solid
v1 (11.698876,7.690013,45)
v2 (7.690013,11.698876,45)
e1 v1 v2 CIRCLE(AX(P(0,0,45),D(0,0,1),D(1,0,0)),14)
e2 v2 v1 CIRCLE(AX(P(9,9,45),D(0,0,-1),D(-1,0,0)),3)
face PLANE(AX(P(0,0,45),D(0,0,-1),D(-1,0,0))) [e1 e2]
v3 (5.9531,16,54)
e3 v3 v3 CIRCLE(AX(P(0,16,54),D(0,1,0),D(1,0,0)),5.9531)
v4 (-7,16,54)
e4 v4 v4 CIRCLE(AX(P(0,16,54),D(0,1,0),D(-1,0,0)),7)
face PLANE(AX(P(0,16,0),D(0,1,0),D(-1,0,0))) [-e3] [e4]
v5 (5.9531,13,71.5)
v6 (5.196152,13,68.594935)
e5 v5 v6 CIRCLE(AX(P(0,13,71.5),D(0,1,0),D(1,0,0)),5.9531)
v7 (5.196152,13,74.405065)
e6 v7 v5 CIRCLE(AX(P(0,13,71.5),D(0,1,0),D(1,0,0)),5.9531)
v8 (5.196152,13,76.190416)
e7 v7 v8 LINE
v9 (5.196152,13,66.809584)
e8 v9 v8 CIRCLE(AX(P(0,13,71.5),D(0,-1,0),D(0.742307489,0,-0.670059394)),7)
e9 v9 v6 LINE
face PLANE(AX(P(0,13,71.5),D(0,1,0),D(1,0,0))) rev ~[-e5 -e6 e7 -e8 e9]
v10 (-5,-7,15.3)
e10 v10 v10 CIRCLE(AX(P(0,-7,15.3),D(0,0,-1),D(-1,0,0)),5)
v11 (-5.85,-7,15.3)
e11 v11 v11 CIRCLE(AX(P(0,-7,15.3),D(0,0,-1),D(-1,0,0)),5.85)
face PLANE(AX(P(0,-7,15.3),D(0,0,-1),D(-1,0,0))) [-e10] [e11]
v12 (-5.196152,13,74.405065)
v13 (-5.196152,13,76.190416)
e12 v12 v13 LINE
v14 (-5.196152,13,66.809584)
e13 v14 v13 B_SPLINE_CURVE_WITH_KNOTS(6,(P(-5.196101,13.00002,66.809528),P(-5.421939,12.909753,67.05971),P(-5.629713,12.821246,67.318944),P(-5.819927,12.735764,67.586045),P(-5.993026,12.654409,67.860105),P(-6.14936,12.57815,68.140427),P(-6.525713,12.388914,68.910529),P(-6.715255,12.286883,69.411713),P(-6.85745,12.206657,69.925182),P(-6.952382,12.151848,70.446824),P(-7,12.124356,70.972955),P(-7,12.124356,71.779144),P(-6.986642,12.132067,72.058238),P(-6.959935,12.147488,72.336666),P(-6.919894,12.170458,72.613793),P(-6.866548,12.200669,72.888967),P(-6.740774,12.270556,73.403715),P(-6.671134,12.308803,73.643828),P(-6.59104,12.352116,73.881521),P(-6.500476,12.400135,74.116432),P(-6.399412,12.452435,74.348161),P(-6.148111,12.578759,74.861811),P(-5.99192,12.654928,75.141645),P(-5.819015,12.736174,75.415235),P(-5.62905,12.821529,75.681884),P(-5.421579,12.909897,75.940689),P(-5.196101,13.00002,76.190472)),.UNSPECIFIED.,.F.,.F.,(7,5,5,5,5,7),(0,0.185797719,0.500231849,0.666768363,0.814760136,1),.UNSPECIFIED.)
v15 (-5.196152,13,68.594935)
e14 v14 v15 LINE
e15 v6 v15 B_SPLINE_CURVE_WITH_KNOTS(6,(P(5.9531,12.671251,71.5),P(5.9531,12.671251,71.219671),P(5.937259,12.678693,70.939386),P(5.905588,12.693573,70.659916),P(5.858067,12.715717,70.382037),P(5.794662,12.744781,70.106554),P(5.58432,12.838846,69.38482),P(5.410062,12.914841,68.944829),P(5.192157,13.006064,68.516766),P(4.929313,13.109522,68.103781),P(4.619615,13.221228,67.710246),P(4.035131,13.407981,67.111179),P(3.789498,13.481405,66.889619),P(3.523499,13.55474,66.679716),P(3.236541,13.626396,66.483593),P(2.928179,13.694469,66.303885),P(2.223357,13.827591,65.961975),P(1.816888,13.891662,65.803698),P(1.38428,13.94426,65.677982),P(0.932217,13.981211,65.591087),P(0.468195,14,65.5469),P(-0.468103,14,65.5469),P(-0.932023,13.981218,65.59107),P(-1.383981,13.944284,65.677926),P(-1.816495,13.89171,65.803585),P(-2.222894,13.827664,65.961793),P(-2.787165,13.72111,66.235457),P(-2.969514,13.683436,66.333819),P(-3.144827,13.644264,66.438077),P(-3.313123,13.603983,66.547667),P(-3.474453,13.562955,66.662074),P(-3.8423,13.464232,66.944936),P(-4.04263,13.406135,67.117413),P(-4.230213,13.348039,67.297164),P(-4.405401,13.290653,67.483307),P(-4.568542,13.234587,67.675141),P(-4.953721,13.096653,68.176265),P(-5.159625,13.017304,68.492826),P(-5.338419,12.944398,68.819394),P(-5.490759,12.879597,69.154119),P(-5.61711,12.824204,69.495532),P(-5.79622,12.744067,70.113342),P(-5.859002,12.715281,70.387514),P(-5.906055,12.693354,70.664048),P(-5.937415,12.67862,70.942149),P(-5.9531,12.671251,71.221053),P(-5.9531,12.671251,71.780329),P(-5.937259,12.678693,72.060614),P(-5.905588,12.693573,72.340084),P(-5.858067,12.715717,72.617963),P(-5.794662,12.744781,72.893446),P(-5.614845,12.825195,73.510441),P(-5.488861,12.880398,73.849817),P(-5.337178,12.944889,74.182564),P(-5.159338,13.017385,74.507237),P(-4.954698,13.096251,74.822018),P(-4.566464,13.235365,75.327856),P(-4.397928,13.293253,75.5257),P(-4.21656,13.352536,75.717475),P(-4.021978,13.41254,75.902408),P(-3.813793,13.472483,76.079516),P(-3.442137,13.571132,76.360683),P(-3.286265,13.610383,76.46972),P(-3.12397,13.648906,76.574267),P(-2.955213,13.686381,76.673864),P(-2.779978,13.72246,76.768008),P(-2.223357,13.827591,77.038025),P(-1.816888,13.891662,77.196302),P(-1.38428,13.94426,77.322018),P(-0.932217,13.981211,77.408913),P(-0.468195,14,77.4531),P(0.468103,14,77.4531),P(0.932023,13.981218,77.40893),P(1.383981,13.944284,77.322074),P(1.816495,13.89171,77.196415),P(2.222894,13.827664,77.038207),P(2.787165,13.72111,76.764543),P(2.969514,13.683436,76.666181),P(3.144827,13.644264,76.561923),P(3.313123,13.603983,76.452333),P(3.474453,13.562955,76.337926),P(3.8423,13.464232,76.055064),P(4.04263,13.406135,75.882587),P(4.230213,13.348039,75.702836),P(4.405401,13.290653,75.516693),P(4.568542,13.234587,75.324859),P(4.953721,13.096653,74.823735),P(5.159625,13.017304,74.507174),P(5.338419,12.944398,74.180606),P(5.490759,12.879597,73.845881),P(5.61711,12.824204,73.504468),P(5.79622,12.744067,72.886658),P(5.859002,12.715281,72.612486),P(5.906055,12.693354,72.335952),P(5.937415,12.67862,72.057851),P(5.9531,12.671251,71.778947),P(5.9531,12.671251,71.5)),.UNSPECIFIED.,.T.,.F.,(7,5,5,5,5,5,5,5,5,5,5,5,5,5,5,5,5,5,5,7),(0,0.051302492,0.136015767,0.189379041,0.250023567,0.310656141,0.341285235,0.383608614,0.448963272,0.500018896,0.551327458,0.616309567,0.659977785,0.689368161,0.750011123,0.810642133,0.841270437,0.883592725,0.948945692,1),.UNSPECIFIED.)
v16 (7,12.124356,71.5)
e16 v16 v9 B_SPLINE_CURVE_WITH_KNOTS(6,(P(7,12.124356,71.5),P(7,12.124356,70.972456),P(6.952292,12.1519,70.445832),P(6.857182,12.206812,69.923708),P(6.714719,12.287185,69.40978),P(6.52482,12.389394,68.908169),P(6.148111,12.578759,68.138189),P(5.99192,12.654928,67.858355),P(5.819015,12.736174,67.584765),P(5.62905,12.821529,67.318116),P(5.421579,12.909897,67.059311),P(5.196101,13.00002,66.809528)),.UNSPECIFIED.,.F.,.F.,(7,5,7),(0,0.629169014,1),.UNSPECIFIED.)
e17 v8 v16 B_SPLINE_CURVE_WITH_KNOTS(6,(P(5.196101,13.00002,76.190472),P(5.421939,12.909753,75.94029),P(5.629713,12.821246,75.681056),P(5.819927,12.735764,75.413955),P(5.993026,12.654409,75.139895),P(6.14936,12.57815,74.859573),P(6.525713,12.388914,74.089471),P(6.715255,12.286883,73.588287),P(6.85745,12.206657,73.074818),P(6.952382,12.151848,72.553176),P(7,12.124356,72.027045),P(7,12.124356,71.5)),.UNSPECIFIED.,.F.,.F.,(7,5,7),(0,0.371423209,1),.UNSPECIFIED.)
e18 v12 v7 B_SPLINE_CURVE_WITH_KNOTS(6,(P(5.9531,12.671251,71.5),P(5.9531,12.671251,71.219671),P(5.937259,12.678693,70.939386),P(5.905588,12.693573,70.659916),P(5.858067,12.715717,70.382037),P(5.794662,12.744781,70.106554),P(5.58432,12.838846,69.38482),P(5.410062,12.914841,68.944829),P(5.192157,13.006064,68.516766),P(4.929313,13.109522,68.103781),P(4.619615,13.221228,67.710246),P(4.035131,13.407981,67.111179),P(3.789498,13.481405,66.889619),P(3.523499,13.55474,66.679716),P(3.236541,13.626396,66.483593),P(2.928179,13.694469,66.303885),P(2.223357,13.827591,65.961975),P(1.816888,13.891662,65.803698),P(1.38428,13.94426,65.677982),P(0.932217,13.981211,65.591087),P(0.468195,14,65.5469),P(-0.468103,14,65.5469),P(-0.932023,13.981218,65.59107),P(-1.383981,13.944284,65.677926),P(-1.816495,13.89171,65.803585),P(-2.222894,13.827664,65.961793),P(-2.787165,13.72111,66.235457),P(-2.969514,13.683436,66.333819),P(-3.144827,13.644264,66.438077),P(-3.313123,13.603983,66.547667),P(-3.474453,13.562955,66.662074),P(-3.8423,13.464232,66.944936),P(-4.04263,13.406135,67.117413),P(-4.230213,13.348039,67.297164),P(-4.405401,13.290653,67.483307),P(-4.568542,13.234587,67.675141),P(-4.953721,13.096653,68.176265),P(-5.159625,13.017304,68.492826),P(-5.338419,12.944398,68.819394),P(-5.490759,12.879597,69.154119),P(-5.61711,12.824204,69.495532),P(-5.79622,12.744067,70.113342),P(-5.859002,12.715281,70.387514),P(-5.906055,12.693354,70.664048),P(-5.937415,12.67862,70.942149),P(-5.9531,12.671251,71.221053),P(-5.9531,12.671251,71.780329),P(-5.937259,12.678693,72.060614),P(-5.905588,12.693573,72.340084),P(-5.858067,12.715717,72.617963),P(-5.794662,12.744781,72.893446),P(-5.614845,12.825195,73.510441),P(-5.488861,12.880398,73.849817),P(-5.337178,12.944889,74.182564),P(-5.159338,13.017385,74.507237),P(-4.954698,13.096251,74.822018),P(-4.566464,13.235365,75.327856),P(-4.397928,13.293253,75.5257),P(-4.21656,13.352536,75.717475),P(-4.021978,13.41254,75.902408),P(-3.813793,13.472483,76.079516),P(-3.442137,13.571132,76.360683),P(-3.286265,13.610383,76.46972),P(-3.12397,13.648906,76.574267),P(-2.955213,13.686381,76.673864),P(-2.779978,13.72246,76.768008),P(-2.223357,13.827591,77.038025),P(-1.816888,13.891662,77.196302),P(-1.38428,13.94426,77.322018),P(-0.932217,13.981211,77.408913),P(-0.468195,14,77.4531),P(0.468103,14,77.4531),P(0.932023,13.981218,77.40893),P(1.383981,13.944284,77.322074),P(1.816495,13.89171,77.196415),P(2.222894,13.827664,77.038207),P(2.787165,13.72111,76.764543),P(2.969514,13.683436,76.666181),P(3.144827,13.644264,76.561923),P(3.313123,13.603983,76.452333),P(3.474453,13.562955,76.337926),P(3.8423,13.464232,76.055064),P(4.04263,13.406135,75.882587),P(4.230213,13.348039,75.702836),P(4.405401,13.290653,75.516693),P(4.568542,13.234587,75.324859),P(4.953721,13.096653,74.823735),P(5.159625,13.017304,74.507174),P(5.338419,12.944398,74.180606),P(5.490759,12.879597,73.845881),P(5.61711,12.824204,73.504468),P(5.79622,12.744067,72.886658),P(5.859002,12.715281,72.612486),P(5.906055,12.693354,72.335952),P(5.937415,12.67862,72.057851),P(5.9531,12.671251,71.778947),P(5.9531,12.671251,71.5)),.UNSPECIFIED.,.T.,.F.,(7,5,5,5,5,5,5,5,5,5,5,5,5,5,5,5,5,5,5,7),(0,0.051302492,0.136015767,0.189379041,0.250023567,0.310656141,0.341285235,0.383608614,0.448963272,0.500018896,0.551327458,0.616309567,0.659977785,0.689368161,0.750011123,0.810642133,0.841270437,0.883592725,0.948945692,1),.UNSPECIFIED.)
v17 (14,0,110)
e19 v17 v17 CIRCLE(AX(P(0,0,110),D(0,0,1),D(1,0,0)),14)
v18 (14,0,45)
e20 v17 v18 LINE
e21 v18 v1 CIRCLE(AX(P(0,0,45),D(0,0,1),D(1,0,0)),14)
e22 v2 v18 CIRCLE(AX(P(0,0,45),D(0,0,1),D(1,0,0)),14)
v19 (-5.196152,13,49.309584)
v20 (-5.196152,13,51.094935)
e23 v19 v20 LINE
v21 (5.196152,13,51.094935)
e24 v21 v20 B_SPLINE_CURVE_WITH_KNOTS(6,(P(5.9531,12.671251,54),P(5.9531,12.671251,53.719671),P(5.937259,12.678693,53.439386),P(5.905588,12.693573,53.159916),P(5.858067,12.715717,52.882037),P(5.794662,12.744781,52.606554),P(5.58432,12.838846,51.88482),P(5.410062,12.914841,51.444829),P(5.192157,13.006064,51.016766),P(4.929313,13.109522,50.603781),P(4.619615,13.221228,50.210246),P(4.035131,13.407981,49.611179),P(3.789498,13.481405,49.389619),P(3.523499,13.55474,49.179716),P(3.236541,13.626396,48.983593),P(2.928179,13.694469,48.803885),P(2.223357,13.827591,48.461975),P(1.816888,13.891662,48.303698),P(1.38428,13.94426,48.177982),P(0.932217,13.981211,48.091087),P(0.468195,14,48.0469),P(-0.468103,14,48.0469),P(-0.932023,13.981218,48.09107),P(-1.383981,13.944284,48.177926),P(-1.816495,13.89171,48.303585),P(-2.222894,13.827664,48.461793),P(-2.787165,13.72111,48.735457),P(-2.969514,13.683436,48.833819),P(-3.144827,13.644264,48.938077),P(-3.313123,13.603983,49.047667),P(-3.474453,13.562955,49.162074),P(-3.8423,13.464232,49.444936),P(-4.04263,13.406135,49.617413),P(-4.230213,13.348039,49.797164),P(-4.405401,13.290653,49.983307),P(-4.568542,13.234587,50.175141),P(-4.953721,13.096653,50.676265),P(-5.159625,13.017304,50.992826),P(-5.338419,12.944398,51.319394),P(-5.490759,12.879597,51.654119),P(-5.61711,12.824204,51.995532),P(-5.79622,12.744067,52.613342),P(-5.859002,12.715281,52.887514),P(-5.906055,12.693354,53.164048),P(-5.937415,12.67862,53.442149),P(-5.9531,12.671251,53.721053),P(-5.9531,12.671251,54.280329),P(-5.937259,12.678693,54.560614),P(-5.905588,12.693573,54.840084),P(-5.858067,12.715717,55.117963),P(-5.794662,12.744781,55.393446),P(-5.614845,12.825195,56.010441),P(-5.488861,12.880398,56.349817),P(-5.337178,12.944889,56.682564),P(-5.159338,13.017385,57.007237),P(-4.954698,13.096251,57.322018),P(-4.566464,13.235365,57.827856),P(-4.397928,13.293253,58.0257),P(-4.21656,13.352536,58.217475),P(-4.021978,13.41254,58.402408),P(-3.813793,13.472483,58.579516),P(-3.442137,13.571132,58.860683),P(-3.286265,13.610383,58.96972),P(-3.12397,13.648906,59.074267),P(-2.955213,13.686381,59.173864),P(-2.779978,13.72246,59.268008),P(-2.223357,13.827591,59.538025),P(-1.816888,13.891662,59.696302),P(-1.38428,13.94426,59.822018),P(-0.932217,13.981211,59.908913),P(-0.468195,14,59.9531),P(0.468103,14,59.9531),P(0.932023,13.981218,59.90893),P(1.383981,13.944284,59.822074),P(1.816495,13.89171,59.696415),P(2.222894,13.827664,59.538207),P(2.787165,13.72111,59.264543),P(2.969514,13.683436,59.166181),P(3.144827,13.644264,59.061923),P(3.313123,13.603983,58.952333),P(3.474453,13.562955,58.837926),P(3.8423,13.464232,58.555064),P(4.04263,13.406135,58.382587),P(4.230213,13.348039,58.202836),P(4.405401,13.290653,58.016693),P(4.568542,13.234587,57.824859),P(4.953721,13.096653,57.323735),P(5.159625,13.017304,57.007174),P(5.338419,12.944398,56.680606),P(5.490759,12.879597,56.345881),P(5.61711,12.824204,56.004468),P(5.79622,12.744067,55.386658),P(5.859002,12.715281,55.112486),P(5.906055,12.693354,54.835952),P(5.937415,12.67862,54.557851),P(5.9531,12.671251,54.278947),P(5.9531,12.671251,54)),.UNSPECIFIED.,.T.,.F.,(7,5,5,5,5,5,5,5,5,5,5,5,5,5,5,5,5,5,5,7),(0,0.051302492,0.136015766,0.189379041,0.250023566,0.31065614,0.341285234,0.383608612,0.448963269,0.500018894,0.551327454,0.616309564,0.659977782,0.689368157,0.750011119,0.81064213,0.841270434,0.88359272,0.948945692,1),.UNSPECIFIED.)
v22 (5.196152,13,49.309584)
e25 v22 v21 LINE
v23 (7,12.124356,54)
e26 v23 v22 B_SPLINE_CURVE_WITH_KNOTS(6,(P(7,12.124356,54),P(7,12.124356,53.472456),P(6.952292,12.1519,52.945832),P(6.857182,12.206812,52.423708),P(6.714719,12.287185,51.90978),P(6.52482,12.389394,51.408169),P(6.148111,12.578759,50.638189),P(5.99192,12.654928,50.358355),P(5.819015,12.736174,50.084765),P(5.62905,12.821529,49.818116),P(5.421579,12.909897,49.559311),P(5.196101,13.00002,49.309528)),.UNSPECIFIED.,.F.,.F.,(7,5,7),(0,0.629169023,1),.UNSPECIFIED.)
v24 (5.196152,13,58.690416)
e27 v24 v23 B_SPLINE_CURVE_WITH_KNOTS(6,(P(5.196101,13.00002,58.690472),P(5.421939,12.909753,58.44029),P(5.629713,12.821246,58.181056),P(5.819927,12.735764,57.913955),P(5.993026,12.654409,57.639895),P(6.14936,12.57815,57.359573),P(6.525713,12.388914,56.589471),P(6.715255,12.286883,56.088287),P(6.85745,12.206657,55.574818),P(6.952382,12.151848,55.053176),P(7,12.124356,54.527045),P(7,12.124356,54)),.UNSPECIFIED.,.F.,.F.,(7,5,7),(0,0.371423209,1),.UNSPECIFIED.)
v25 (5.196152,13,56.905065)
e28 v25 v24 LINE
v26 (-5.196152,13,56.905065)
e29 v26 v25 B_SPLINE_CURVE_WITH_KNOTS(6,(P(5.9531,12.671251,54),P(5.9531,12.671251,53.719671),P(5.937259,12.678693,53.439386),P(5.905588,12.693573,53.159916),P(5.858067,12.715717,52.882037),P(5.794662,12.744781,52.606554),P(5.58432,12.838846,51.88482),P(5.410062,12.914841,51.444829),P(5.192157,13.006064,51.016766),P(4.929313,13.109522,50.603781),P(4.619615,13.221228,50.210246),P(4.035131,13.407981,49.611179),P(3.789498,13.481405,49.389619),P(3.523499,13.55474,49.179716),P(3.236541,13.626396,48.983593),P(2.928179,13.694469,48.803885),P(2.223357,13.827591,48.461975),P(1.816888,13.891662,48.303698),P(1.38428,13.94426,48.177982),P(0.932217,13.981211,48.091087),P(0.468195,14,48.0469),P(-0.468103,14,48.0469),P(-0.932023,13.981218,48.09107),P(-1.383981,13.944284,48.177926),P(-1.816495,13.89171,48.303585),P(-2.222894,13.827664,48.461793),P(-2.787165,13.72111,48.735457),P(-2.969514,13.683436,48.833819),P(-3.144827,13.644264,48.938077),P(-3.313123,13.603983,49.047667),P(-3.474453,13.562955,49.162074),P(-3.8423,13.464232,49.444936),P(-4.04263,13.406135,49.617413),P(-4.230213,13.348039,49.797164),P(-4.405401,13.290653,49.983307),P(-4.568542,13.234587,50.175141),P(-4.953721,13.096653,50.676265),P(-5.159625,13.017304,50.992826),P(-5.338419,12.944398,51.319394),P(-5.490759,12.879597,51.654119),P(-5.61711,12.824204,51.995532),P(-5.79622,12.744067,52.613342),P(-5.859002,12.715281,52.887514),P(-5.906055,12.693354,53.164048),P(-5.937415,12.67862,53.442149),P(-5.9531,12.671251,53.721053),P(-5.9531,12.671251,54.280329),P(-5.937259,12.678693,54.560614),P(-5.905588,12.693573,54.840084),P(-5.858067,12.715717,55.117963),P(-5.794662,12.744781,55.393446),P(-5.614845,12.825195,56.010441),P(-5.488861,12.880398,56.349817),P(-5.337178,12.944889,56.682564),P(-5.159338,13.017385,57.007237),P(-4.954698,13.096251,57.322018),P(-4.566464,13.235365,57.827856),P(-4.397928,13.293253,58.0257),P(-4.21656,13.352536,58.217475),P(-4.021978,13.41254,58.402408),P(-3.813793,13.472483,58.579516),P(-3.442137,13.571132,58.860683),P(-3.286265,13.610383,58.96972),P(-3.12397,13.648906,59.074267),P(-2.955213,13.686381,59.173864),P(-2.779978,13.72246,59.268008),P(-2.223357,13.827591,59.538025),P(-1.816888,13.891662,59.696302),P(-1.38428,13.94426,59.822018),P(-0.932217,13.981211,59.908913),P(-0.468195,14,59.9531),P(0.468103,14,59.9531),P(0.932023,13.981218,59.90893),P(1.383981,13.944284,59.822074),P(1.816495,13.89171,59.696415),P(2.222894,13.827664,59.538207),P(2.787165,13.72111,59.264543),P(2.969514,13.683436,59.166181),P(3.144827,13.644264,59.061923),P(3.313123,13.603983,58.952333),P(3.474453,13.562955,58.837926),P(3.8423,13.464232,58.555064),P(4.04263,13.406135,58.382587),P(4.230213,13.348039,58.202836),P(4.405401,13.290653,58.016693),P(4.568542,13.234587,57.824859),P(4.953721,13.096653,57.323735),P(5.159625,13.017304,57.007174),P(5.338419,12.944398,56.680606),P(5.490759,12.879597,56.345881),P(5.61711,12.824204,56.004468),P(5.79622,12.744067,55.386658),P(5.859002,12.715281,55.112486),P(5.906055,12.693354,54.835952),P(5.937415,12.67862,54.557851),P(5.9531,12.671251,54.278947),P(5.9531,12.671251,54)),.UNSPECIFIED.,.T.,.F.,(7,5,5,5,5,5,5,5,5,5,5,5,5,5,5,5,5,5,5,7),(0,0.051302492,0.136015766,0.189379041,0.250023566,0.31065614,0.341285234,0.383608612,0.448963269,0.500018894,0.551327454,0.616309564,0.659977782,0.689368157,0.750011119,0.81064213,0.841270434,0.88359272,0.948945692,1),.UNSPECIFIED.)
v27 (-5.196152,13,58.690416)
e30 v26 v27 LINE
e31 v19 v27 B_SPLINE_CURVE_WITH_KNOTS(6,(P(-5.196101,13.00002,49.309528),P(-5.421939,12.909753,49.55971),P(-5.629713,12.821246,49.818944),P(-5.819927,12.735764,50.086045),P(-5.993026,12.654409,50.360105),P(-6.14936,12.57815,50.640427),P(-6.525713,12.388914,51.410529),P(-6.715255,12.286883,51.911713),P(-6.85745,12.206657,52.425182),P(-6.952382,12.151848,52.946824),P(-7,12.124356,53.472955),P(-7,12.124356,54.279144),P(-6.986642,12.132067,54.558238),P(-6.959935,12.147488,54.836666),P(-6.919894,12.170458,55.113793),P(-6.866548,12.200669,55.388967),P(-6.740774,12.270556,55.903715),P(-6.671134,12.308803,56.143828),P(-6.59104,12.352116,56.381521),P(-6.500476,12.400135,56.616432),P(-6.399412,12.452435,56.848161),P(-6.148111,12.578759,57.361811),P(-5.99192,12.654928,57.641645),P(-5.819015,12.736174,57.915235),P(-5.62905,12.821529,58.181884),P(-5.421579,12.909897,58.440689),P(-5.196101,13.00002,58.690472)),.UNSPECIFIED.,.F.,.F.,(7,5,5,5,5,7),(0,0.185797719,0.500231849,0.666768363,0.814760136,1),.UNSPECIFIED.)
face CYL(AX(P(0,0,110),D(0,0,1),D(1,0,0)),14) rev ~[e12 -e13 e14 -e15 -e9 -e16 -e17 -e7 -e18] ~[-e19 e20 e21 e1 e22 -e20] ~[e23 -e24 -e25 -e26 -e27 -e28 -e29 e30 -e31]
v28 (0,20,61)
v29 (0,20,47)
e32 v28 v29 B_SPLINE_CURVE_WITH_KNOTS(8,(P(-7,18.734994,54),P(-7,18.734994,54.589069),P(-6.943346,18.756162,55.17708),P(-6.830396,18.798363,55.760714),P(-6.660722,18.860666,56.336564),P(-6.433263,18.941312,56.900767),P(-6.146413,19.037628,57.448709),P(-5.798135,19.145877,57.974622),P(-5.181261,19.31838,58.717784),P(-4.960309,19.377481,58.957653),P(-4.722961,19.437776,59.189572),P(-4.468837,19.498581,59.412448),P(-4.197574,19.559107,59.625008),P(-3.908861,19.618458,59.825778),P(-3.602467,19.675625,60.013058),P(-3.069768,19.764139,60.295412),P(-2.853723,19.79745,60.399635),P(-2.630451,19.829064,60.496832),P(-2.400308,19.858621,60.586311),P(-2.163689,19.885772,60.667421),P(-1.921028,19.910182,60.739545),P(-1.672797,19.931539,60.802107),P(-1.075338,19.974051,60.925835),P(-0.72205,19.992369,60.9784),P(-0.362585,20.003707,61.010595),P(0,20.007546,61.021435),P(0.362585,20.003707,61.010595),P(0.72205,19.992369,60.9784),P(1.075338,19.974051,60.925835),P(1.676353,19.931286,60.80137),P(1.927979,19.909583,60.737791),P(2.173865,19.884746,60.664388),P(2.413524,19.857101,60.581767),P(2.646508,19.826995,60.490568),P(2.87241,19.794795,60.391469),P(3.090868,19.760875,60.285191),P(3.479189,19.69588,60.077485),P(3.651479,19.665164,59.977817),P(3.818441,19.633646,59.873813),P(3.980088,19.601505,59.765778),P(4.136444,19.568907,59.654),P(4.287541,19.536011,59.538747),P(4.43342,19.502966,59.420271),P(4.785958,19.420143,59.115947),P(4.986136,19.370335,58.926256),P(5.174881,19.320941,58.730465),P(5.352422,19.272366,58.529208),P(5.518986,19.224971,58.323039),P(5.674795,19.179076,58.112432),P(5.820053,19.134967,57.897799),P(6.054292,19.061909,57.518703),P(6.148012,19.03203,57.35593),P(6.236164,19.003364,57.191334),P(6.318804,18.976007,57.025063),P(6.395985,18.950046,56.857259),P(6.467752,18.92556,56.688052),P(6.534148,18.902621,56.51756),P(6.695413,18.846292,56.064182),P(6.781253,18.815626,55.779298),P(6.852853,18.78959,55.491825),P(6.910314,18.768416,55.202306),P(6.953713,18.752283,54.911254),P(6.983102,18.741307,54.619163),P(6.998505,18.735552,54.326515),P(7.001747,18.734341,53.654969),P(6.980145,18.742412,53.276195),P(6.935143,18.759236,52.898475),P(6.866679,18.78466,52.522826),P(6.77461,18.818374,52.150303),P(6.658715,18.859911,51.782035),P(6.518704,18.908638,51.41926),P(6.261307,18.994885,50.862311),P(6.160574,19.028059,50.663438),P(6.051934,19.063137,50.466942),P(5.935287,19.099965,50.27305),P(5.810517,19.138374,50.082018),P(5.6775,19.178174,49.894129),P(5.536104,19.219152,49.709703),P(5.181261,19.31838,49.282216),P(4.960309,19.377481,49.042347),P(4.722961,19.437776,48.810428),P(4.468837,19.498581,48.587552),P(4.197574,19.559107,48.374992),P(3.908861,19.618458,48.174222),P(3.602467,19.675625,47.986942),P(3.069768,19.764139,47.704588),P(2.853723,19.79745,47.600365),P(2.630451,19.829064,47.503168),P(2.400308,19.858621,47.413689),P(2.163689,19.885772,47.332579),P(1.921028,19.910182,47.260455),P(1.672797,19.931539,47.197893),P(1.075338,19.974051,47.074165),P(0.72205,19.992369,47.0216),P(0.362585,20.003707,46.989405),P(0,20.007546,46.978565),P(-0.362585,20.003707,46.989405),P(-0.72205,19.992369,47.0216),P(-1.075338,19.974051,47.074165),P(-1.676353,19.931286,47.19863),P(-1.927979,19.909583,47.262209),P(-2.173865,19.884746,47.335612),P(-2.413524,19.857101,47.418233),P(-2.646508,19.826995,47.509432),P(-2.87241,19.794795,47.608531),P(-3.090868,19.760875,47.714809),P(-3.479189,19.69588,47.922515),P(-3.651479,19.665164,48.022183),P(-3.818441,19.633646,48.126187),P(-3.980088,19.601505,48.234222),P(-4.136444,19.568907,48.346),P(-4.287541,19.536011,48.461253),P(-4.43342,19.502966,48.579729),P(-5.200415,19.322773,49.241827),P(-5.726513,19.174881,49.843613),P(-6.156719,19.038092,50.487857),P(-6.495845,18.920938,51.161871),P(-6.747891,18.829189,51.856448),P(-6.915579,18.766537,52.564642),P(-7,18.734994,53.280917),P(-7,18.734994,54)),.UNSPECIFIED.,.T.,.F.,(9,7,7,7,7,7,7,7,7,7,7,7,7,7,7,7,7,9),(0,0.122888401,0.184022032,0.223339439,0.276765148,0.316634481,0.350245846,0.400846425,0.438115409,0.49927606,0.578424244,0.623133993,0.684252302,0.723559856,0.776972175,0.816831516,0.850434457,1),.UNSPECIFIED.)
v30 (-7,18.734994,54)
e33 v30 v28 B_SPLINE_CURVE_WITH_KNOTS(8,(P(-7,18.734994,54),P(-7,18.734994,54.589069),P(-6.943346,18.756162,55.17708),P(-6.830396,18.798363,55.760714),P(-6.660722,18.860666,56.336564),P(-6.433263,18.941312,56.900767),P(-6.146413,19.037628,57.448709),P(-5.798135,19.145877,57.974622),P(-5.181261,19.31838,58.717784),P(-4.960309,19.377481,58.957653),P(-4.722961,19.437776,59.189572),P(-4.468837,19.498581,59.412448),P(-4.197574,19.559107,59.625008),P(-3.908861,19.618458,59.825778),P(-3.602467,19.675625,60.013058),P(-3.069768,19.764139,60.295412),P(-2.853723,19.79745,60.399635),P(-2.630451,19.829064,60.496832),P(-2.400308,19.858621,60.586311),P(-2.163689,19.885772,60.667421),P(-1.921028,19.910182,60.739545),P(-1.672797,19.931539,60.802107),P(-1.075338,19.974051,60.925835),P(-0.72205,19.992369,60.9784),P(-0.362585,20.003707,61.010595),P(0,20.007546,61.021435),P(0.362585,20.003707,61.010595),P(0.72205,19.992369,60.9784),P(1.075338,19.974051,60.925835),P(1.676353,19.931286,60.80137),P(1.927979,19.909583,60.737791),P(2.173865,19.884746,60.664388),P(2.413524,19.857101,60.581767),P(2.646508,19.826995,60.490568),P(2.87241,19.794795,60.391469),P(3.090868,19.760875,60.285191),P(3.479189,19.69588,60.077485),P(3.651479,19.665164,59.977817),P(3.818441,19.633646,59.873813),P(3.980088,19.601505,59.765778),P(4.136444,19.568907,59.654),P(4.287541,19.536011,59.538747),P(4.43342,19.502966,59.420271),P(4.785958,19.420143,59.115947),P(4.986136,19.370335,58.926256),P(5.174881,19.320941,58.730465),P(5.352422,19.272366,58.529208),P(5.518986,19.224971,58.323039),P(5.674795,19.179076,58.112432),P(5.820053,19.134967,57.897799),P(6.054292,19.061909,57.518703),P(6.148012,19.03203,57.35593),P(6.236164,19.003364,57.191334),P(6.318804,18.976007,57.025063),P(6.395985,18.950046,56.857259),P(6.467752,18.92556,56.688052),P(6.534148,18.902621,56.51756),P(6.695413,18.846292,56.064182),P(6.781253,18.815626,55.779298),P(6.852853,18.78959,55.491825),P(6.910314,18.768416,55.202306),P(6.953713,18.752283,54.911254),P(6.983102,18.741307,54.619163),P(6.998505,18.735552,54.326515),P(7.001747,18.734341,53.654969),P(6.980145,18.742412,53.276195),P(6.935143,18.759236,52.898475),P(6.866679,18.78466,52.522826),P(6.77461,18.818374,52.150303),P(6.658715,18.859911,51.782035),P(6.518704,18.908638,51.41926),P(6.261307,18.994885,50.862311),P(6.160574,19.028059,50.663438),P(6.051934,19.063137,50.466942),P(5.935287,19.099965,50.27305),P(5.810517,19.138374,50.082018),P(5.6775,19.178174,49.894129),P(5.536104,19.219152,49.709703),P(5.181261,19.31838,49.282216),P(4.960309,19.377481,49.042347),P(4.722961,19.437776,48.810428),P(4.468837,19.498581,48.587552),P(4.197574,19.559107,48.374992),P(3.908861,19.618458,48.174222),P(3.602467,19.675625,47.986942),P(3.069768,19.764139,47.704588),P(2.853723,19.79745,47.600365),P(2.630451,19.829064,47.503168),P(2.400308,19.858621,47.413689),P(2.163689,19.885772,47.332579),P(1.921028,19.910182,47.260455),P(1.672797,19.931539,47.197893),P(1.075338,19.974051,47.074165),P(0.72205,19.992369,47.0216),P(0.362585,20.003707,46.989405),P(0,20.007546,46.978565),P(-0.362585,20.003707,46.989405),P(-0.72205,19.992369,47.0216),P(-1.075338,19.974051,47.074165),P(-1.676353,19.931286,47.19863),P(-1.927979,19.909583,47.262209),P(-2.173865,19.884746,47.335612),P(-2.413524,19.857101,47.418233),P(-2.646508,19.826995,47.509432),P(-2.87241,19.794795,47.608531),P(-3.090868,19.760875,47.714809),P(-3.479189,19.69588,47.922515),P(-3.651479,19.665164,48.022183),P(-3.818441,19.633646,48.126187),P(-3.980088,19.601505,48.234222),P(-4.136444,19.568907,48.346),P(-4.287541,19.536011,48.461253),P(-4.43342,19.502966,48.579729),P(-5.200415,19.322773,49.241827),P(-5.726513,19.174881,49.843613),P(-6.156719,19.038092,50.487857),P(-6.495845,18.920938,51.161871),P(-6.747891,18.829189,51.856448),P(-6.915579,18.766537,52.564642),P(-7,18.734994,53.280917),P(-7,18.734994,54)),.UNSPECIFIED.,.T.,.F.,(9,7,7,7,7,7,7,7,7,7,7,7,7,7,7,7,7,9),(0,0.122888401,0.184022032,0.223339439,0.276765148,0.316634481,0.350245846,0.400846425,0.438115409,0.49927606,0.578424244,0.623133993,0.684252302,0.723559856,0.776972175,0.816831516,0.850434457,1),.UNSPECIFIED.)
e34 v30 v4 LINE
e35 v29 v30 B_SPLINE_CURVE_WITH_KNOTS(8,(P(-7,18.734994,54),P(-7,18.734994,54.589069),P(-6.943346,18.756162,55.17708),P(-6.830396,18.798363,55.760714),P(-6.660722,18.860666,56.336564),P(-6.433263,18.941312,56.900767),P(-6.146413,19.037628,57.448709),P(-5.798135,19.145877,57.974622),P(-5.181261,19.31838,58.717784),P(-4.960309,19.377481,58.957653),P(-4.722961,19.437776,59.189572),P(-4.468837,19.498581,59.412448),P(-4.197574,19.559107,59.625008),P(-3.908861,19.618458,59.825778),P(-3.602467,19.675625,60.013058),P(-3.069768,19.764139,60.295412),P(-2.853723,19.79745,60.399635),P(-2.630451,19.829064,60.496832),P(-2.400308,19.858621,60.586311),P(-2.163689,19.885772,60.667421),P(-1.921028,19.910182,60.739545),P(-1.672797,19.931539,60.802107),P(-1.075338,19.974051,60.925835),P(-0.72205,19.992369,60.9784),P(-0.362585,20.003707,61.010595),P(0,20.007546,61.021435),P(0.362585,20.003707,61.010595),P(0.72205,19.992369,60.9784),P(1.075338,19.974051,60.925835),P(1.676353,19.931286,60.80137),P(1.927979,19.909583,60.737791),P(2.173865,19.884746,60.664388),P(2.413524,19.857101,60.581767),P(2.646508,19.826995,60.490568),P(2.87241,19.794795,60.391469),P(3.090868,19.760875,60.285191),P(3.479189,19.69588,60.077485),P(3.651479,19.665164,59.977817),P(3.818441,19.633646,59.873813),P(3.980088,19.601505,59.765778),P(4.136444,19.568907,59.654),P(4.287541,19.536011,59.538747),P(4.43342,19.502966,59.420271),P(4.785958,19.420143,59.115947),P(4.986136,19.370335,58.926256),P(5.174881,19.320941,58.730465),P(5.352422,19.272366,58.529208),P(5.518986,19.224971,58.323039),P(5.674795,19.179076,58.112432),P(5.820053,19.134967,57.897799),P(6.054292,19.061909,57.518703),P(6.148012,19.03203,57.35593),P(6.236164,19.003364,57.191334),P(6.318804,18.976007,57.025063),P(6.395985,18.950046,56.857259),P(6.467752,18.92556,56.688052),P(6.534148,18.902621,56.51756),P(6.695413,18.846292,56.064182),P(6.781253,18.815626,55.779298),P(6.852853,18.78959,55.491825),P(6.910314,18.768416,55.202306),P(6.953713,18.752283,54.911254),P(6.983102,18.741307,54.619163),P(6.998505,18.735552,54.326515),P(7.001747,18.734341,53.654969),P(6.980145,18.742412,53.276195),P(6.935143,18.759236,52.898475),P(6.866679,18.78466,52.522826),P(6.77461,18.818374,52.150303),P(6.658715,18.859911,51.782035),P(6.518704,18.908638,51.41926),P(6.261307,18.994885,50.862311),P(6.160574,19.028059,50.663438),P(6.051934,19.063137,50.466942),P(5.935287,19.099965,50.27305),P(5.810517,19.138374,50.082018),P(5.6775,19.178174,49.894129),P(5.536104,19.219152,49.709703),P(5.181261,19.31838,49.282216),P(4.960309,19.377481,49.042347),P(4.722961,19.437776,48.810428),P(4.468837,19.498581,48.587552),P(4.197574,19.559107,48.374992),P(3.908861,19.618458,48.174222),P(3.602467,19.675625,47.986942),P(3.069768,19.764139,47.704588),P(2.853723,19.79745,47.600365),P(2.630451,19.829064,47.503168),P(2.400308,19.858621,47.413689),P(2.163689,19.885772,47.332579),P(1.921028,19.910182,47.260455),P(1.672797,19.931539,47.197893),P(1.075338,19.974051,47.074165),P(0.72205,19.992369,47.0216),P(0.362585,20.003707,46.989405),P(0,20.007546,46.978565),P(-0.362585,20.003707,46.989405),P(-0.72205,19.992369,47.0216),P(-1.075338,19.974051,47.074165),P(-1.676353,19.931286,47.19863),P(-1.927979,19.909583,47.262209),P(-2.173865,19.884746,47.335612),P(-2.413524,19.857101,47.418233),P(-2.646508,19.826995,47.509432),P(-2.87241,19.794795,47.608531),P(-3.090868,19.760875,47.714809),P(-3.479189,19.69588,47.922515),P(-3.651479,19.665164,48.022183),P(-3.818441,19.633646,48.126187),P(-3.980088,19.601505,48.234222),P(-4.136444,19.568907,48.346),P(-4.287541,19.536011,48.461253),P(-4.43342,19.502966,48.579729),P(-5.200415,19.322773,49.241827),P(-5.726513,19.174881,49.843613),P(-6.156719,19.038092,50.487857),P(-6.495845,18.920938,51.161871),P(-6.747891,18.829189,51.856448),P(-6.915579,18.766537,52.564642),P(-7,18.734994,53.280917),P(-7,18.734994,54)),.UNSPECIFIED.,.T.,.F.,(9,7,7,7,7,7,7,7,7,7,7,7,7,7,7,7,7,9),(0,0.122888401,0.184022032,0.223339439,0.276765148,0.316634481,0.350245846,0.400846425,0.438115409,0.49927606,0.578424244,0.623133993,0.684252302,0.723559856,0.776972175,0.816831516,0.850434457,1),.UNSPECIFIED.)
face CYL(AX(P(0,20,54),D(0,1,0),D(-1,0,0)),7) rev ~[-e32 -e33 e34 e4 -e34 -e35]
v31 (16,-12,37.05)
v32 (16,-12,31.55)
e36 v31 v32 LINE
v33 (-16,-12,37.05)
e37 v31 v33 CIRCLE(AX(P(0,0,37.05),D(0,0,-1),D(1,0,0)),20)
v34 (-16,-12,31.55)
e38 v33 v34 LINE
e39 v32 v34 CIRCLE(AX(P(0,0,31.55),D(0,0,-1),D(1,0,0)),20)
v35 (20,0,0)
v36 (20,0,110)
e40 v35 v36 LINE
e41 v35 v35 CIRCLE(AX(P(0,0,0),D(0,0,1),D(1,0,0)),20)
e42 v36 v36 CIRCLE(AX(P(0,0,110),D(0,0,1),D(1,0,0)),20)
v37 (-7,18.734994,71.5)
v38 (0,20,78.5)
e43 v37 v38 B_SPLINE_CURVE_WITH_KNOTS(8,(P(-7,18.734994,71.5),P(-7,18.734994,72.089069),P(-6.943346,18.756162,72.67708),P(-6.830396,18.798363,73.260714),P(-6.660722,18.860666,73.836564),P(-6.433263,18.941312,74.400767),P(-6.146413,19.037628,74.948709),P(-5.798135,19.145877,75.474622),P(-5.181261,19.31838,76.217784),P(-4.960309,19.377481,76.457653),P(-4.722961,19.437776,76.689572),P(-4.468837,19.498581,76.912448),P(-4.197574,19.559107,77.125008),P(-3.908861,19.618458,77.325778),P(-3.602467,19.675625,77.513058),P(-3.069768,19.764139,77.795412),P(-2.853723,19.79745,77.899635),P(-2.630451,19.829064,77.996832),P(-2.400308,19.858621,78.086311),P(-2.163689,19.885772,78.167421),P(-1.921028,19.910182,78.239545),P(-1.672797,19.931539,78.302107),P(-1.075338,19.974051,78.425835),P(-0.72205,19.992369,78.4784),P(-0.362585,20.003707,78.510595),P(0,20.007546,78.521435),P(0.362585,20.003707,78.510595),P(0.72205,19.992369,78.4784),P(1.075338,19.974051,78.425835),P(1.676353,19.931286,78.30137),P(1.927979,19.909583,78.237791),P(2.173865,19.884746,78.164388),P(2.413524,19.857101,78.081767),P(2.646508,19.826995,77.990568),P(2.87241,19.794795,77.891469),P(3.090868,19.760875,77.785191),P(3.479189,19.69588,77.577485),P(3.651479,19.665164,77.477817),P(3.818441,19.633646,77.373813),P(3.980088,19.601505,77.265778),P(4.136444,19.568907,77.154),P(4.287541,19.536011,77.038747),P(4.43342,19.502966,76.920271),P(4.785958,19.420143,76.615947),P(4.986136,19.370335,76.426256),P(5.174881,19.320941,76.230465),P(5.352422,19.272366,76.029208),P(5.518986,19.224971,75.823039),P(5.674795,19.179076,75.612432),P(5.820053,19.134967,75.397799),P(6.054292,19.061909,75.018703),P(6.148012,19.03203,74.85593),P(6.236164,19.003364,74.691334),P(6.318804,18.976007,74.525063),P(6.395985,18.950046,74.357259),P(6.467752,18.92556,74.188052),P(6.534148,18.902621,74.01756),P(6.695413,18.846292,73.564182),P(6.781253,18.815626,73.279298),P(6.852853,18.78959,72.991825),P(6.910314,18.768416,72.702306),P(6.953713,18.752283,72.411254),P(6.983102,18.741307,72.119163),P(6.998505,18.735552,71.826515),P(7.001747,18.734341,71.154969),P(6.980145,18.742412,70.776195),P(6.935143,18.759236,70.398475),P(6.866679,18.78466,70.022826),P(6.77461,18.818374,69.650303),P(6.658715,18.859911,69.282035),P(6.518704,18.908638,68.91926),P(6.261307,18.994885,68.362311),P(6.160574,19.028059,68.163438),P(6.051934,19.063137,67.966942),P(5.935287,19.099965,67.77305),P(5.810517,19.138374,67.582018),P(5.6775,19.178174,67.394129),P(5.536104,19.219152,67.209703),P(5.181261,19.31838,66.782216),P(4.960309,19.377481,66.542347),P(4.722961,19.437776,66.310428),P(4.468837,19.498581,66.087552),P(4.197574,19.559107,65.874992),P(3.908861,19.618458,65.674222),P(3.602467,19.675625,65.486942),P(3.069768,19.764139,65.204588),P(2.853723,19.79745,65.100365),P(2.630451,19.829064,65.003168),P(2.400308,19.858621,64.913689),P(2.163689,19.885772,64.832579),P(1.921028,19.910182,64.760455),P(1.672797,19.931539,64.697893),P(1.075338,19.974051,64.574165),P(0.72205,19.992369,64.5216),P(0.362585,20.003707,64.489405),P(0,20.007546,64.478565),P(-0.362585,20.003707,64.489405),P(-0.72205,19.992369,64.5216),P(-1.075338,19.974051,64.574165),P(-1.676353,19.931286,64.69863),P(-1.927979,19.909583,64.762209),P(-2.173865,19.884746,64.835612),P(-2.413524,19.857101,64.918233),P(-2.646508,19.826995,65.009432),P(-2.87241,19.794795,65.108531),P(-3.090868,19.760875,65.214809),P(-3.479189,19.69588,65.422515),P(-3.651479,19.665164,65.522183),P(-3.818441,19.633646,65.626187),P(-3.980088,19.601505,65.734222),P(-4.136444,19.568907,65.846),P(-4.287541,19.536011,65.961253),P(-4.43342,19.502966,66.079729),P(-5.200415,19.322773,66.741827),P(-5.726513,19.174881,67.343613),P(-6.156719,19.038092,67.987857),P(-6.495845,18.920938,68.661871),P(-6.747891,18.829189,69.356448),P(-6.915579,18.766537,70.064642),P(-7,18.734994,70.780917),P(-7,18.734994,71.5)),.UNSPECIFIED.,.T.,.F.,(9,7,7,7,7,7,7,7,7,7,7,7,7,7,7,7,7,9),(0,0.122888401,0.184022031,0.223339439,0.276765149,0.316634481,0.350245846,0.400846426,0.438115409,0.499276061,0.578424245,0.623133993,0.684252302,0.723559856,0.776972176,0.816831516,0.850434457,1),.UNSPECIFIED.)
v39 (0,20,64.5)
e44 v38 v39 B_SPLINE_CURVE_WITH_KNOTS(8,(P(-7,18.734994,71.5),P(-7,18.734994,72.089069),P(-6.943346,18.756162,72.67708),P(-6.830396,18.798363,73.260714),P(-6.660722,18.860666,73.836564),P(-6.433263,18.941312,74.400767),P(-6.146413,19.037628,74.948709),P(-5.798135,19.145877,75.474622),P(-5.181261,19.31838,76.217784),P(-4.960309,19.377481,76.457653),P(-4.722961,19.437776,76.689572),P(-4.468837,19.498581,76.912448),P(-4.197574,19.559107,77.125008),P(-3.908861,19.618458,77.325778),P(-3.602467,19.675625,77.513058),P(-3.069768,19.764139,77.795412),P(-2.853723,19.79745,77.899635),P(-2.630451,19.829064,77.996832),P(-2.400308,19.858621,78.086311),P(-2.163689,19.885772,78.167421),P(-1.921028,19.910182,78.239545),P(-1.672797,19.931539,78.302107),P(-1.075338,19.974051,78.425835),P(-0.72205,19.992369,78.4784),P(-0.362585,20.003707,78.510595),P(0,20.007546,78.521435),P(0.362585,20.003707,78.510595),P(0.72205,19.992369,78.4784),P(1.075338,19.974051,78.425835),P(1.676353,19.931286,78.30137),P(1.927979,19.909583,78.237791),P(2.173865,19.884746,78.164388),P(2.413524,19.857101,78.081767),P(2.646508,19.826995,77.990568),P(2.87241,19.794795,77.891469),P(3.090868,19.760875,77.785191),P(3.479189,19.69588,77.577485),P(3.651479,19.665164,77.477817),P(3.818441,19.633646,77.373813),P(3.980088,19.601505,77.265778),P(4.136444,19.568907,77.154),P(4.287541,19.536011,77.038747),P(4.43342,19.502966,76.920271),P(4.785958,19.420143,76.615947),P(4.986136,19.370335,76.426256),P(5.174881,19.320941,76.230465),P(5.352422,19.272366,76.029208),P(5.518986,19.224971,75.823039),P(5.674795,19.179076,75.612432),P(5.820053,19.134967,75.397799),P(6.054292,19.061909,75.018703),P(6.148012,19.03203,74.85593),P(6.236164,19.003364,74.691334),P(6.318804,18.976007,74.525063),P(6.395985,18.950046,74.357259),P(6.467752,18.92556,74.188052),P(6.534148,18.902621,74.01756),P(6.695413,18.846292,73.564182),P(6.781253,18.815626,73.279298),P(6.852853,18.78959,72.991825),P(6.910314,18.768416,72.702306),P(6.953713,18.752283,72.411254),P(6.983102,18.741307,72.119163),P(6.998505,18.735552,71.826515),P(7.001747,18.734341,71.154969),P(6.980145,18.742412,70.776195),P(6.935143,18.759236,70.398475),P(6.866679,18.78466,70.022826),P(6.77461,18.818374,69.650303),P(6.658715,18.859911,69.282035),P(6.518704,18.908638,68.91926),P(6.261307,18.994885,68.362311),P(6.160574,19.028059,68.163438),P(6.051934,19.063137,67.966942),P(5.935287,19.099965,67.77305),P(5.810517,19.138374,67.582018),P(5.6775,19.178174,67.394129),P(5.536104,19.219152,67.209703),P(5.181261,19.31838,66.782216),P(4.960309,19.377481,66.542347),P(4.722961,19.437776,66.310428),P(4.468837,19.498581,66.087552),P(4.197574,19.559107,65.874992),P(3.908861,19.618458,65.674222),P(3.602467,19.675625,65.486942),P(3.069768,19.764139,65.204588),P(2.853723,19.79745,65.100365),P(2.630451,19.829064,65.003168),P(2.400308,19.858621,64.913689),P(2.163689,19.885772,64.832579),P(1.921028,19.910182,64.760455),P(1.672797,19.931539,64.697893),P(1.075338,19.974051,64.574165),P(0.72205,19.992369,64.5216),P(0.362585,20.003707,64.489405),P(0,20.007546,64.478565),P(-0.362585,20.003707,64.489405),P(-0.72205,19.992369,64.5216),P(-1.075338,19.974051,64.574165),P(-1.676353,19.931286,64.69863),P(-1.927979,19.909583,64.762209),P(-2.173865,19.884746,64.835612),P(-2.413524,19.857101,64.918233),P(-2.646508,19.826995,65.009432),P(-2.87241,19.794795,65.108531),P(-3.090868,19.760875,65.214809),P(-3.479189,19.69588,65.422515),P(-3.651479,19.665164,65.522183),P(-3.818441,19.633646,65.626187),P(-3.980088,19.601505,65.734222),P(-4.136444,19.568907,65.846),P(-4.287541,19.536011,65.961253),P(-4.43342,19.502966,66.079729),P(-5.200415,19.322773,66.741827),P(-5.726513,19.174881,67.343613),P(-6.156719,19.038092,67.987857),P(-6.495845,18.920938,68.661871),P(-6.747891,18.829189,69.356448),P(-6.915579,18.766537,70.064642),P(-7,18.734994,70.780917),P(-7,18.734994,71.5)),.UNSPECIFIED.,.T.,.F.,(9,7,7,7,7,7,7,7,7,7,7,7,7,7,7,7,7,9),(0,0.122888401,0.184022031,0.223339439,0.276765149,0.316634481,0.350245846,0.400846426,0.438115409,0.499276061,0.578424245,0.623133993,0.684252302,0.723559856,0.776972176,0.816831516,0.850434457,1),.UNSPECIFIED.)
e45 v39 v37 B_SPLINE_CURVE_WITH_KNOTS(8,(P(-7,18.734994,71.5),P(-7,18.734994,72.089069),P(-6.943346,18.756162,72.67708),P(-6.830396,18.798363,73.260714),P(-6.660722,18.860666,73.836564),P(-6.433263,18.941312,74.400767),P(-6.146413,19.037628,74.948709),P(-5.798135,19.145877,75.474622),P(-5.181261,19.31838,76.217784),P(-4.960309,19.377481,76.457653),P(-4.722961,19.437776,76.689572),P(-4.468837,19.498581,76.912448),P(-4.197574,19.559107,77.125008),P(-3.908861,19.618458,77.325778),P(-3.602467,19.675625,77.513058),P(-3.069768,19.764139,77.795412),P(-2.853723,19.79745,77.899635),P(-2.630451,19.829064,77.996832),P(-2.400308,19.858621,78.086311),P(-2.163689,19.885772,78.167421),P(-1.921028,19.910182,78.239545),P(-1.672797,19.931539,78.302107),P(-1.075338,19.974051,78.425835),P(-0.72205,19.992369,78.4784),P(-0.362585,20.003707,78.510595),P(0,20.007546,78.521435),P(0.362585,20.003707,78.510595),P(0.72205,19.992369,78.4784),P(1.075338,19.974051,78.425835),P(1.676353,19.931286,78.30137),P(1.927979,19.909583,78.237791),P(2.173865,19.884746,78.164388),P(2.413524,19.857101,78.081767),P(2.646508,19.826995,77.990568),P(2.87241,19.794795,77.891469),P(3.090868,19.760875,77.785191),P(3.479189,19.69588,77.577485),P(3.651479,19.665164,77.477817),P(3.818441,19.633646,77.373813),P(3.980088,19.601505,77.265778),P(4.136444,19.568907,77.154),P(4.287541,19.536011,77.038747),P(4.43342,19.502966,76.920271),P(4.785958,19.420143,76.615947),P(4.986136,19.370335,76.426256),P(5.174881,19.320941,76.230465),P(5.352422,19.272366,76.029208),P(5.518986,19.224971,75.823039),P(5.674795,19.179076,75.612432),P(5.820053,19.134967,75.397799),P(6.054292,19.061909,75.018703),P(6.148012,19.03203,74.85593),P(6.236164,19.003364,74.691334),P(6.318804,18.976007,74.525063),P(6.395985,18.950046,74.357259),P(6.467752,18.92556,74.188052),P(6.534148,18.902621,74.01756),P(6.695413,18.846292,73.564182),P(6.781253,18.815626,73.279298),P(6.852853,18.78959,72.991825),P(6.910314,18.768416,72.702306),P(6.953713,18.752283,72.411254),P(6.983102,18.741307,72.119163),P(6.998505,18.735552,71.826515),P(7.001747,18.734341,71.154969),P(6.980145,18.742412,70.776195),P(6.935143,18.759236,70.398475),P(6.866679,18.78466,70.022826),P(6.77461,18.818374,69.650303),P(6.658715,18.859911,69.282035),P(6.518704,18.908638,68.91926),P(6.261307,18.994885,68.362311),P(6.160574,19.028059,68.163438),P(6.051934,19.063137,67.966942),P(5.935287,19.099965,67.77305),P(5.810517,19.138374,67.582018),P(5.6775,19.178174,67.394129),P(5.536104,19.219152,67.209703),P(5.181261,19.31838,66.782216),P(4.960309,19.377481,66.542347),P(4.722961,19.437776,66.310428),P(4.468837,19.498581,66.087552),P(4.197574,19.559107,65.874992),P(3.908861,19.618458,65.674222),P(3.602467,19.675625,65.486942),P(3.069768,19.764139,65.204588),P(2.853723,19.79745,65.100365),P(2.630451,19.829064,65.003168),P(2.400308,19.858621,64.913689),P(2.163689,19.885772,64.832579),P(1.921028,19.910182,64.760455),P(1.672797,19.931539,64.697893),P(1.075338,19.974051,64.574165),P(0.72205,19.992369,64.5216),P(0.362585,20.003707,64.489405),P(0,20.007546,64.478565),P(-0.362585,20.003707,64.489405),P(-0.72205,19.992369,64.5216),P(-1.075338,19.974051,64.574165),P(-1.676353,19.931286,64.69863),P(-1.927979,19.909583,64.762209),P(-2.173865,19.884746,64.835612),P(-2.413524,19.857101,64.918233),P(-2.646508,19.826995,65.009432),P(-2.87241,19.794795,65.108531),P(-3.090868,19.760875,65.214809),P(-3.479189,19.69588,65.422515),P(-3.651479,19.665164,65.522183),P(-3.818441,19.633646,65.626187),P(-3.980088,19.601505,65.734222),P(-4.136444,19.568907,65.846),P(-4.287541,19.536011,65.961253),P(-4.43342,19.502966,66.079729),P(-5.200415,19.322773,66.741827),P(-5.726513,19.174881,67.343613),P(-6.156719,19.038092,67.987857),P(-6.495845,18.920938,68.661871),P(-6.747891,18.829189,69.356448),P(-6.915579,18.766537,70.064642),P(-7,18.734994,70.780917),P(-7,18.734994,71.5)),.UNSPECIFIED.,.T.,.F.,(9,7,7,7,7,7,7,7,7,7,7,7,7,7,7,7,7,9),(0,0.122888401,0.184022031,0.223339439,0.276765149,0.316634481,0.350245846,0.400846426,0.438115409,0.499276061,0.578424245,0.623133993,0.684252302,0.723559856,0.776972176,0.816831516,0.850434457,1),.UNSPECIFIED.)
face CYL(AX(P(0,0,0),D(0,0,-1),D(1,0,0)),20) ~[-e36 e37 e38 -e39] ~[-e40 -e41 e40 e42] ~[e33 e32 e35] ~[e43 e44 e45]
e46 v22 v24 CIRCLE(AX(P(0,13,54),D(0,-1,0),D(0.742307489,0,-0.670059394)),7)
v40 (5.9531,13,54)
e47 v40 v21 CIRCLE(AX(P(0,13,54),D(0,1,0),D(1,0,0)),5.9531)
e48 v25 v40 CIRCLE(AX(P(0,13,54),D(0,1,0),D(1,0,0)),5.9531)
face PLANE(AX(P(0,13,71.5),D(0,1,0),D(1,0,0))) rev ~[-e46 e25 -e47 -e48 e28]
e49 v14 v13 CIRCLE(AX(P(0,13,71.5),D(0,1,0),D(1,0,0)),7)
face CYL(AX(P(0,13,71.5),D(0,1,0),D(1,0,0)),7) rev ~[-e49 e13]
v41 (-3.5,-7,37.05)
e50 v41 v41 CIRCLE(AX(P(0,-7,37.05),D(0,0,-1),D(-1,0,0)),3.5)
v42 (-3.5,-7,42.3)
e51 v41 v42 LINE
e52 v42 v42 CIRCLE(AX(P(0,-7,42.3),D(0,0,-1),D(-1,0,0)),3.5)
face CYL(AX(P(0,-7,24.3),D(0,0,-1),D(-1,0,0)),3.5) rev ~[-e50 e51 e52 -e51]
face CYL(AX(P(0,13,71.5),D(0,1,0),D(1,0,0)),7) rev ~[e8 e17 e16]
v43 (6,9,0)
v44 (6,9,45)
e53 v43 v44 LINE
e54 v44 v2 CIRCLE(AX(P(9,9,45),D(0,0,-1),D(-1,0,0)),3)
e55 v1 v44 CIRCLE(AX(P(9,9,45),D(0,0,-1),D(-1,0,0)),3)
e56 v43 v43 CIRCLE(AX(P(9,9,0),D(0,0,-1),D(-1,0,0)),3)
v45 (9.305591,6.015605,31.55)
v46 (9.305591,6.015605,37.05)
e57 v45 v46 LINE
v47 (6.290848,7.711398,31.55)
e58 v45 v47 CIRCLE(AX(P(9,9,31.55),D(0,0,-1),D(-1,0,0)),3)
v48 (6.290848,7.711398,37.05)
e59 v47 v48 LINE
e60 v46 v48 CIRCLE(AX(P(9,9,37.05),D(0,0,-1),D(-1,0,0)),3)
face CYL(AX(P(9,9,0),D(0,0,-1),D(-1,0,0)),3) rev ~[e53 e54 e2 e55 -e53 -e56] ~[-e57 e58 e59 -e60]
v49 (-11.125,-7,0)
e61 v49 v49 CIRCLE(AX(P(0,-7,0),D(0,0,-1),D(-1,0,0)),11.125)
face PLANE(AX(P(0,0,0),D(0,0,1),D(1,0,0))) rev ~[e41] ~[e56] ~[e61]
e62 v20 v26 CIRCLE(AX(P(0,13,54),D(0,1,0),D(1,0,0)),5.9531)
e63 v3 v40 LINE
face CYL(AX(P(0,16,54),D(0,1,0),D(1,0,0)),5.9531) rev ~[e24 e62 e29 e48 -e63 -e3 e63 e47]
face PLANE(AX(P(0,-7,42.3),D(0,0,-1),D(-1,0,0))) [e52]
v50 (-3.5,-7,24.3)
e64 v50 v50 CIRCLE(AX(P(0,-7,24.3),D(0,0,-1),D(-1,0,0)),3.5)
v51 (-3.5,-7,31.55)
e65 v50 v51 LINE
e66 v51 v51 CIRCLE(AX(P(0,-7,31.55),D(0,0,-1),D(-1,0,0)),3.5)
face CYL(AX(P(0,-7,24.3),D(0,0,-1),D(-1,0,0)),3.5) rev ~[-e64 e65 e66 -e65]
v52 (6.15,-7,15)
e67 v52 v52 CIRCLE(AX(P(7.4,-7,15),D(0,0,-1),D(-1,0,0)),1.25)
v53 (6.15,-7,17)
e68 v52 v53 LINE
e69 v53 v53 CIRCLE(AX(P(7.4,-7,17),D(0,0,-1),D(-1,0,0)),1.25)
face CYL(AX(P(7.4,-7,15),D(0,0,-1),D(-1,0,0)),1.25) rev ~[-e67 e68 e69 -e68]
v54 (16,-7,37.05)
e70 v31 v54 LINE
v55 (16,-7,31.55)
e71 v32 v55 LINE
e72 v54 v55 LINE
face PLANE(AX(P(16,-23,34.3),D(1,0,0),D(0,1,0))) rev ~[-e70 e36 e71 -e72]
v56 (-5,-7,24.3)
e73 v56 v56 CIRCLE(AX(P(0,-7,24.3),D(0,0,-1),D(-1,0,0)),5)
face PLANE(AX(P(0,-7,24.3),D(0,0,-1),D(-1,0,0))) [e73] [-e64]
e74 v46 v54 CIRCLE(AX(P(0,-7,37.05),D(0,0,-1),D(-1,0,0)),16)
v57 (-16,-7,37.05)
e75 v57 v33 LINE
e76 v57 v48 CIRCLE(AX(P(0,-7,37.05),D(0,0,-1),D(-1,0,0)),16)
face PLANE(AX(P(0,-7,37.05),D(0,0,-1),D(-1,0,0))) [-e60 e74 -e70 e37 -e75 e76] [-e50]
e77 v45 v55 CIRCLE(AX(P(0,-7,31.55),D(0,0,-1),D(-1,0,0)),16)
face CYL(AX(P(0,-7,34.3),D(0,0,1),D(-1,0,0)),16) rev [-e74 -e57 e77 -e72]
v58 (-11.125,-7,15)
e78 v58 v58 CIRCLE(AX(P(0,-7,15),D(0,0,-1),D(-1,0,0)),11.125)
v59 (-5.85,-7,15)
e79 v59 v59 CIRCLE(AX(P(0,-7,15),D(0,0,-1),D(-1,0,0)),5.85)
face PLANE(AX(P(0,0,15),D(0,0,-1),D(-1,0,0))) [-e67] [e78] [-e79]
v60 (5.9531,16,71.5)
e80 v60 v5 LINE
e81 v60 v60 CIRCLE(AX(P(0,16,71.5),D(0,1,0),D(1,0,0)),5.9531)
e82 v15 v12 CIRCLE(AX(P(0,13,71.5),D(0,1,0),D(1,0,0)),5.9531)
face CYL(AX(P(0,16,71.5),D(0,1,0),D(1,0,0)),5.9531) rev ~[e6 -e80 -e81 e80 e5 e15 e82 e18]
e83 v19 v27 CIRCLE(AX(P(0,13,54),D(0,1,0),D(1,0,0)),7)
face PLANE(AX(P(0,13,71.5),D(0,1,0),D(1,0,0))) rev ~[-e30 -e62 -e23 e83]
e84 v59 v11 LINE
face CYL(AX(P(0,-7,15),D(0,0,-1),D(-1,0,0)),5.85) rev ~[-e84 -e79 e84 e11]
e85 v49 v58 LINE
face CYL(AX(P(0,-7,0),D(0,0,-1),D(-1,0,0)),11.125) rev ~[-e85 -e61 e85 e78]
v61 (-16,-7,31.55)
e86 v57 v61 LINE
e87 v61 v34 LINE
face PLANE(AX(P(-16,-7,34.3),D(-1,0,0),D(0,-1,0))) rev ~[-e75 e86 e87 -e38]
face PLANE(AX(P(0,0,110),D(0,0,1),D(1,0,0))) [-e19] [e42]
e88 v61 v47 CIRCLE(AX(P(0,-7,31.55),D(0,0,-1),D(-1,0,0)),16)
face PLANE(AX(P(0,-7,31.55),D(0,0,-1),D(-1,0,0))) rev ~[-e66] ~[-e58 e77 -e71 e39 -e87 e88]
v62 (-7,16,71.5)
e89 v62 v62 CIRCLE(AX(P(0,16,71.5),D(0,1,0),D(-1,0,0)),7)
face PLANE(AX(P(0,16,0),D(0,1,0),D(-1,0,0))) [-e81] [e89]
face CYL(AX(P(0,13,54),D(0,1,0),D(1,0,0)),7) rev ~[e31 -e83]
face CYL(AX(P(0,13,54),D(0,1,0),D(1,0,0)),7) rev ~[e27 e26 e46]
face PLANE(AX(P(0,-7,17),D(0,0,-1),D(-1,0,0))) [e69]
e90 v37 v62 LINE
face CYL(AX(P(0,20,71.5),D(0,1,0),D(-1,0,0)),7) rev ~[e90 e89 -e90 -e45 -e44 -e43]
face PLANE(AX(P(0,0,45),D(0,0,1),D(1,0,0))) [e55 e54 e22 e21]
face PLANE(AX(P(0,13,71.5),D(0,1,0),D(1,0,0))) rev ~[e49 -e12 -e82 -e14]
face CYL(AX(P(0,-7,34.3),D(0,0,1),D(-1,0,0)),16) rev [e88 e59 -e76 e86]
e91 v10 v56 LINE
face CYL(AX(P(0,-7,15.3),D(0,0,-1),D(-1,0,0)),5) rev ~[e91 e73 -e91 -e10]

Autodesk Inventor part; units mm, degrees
ref_plane "YZ Plane" through (0, 0, 0) normal (1, 0, 0) x (0, 1, 0)
sketch "Sketch1" plane through (0, 0, 0) normal (0, 0, 1) x (1, 0, 0)
  circle A0 centre (0, 0) radius 20
  dimension "d0" = 40
extrude "Extrusion1" add sketch "Sketch1" along normal blind 110
ref_plane "Work Plane2" through (0, 20, 0) normal (0, 1, 0) x (-1, 0, 0)
sketch "Sketch3" plane through (0, 20, 0) normal (0, 1, 0) x (-1, 0, 0)
  circle A0 centre (0, 54) radius 7
  circle A1 centre (0, 71.5) radius 7
  point P0 (0, 0)
  dimension "d3" = 14
  dimension "d4" = 14
  dimension "d5" = 17.5
  dimension "d6" = 54
  dimension "d7" = 0
  dimension "d8" = 0
extrude "Extrusion2" cut sketch "Sketch3" against normal blind 4
sketch "Sketch4" plane through (0, 16, 71.5) normal (0, 1, 0) x (1, 0, 0)
  circle A0 centre (0, 0) radius 7 projected
  circle A1 centre (0, 0) radius 5.9531
  circle A2 centre (0, 17.5) radius 7 projected
  circle A3 centre (0, 17.5) radius 5.9531
  point P0 (0, 71.5)
  dimension "d11" = 11.9062
  dimension "d12" = 11.9062
extrude "Extrusion3" cut sketch "Sketch4" against normal blind 23 contours A1 | A3
sketch "Sketch5" plane through (0, 0, 0) normal (0, 0, -1) x (-1, 0, 0)
  circle A0 centre (0, -7) radius 11.125
  point P0 (0, 0)
  dimension "d15" = 22.25
  dimension "d40" = 0
  dimension "d63" = 7
extrude "Extrusion4" cut sketch "Sketch5" against normal blind 15
sketch "Sketch6" plane through (0, -7, 15) normal (0, 0, -1) x (-1, 0, 0)
  circle A0 centre (0, 0) radius 5.85
  circle A1 centre (0, 0) radius 11.125 projected
  point P0 (0, 7)
  dimension "d19" = 11.7
extrude "Extrusion5" cut sketch "Sketch6" against normal blind 0.3 contours A0
sketch "Sketch7" plane through (0, -7, 15.3) normal (0, 0, -1) x (-1, 0, 0)
  circle A0 centre (0, 0) radius 5
  circle A1 centre (0, 0) radius 5.85 projected
  point P0 (0, 7)
  dimension "d22" = 10
extrude "Extrusion6" cut sketch "Sketch7" against normal blind 9 contours A0
sketch "Sketch8" plane through (0, -7, 24.3) normal (0, 0, -1) x (-1, 0, 0)
  circle A0 centre (0, 0) radius 3.5
  circle A1 centre (0, 0) radius 5 projected
  point P0 (0, 7)
  dimension "d25" = 7
extrude "Extrusion7" cut sketch "Sketch8" against normal blind 18 contours A0
sketch "Sketch9" plane through (0, -7, 15) normal (0, 0, -1) x (-1, 0, 0)
  circle A0 centre (-7.4, 0) radius 1.25
  circle A1 centre (0, 0) radius 3.5 projected
  point P0 (0, 7)
  dimension "d28" = 2.5
  dimension "d29" = 7.4
  dimension "d30" = 0
extrude "Extrusion8" cut sketch "Sketch9" against normal blind 2 contours A0
ref_plane "Work Plane3" through (0, -7, 34.3) normal (0, 0, -1) x (-1, 0, 0)
sketch "Sketch11" plane through (0, -7, 34.3) normal (0, 0, -1) x (-1, 0, 0)
  circle A0 centre (0, 0) radius 3.5 projected
  arc A1 (16, 0) -> (-16, 0) centre (0, 0) ccw
  line L0 (16, 0) -> (16, -16)
  line L1 (16, -16) -> (-16, -16)
  line L2 (-16, -16) -> (-16, 0)
  point P0 (0, 7)
  dimension "d37" = 32
extrude "Extrusion10" cut sketch "Sketch11" along normal mid plane 5.5
sketch "Sketch12" plane through (0, 0, 0) normal (0, 0, -1) x (-1, 0, 0)
  circle A0 centre (-9, 9) radius 3
  circle A1 centre (0, 0) radius 20 projected
  dimension "d58" = 6
  dimension "d59" = 9
  dimension "d60" = 9
sketch "Sketch13" plane through (0, 0, 110) normal (0, 0, 1) x (1, 0, 0)
  circle A0 centre (0, 0) radius 14
  dimension "d44" = 28
extrude "Extrusion11" cut sketch "Sketch13" against normal blind 65
ref_plane "Work Plane5" through (0, 13, 71.5) normal (0, 1, 0) x (1, 0, 0)
sketch "Sketch15" plane through (0, 13, 71.5) normal (0, 1, 0) x (1, 0, 0)
  circle A0 centre (0, 17.5) radius 7 projected
  circle A1 centre (0, 17.5) radius 8.5
  circle A2 centre (0, 0) radius 7 projected
  circle A3 centre (0, 0) radius 8.5
  point P0 (0, 71.5)
  dimension "d54" = 17
  dimension "d55" = 17
extrude "Extrusion14" cut sketch "Sketch15" against normal blind 10 contours A0 | A2
extrude "Extrusion15" cut sketch "Sketch12" against normal up to surface (45 mm away) contours A0
properties part number "Housing"
